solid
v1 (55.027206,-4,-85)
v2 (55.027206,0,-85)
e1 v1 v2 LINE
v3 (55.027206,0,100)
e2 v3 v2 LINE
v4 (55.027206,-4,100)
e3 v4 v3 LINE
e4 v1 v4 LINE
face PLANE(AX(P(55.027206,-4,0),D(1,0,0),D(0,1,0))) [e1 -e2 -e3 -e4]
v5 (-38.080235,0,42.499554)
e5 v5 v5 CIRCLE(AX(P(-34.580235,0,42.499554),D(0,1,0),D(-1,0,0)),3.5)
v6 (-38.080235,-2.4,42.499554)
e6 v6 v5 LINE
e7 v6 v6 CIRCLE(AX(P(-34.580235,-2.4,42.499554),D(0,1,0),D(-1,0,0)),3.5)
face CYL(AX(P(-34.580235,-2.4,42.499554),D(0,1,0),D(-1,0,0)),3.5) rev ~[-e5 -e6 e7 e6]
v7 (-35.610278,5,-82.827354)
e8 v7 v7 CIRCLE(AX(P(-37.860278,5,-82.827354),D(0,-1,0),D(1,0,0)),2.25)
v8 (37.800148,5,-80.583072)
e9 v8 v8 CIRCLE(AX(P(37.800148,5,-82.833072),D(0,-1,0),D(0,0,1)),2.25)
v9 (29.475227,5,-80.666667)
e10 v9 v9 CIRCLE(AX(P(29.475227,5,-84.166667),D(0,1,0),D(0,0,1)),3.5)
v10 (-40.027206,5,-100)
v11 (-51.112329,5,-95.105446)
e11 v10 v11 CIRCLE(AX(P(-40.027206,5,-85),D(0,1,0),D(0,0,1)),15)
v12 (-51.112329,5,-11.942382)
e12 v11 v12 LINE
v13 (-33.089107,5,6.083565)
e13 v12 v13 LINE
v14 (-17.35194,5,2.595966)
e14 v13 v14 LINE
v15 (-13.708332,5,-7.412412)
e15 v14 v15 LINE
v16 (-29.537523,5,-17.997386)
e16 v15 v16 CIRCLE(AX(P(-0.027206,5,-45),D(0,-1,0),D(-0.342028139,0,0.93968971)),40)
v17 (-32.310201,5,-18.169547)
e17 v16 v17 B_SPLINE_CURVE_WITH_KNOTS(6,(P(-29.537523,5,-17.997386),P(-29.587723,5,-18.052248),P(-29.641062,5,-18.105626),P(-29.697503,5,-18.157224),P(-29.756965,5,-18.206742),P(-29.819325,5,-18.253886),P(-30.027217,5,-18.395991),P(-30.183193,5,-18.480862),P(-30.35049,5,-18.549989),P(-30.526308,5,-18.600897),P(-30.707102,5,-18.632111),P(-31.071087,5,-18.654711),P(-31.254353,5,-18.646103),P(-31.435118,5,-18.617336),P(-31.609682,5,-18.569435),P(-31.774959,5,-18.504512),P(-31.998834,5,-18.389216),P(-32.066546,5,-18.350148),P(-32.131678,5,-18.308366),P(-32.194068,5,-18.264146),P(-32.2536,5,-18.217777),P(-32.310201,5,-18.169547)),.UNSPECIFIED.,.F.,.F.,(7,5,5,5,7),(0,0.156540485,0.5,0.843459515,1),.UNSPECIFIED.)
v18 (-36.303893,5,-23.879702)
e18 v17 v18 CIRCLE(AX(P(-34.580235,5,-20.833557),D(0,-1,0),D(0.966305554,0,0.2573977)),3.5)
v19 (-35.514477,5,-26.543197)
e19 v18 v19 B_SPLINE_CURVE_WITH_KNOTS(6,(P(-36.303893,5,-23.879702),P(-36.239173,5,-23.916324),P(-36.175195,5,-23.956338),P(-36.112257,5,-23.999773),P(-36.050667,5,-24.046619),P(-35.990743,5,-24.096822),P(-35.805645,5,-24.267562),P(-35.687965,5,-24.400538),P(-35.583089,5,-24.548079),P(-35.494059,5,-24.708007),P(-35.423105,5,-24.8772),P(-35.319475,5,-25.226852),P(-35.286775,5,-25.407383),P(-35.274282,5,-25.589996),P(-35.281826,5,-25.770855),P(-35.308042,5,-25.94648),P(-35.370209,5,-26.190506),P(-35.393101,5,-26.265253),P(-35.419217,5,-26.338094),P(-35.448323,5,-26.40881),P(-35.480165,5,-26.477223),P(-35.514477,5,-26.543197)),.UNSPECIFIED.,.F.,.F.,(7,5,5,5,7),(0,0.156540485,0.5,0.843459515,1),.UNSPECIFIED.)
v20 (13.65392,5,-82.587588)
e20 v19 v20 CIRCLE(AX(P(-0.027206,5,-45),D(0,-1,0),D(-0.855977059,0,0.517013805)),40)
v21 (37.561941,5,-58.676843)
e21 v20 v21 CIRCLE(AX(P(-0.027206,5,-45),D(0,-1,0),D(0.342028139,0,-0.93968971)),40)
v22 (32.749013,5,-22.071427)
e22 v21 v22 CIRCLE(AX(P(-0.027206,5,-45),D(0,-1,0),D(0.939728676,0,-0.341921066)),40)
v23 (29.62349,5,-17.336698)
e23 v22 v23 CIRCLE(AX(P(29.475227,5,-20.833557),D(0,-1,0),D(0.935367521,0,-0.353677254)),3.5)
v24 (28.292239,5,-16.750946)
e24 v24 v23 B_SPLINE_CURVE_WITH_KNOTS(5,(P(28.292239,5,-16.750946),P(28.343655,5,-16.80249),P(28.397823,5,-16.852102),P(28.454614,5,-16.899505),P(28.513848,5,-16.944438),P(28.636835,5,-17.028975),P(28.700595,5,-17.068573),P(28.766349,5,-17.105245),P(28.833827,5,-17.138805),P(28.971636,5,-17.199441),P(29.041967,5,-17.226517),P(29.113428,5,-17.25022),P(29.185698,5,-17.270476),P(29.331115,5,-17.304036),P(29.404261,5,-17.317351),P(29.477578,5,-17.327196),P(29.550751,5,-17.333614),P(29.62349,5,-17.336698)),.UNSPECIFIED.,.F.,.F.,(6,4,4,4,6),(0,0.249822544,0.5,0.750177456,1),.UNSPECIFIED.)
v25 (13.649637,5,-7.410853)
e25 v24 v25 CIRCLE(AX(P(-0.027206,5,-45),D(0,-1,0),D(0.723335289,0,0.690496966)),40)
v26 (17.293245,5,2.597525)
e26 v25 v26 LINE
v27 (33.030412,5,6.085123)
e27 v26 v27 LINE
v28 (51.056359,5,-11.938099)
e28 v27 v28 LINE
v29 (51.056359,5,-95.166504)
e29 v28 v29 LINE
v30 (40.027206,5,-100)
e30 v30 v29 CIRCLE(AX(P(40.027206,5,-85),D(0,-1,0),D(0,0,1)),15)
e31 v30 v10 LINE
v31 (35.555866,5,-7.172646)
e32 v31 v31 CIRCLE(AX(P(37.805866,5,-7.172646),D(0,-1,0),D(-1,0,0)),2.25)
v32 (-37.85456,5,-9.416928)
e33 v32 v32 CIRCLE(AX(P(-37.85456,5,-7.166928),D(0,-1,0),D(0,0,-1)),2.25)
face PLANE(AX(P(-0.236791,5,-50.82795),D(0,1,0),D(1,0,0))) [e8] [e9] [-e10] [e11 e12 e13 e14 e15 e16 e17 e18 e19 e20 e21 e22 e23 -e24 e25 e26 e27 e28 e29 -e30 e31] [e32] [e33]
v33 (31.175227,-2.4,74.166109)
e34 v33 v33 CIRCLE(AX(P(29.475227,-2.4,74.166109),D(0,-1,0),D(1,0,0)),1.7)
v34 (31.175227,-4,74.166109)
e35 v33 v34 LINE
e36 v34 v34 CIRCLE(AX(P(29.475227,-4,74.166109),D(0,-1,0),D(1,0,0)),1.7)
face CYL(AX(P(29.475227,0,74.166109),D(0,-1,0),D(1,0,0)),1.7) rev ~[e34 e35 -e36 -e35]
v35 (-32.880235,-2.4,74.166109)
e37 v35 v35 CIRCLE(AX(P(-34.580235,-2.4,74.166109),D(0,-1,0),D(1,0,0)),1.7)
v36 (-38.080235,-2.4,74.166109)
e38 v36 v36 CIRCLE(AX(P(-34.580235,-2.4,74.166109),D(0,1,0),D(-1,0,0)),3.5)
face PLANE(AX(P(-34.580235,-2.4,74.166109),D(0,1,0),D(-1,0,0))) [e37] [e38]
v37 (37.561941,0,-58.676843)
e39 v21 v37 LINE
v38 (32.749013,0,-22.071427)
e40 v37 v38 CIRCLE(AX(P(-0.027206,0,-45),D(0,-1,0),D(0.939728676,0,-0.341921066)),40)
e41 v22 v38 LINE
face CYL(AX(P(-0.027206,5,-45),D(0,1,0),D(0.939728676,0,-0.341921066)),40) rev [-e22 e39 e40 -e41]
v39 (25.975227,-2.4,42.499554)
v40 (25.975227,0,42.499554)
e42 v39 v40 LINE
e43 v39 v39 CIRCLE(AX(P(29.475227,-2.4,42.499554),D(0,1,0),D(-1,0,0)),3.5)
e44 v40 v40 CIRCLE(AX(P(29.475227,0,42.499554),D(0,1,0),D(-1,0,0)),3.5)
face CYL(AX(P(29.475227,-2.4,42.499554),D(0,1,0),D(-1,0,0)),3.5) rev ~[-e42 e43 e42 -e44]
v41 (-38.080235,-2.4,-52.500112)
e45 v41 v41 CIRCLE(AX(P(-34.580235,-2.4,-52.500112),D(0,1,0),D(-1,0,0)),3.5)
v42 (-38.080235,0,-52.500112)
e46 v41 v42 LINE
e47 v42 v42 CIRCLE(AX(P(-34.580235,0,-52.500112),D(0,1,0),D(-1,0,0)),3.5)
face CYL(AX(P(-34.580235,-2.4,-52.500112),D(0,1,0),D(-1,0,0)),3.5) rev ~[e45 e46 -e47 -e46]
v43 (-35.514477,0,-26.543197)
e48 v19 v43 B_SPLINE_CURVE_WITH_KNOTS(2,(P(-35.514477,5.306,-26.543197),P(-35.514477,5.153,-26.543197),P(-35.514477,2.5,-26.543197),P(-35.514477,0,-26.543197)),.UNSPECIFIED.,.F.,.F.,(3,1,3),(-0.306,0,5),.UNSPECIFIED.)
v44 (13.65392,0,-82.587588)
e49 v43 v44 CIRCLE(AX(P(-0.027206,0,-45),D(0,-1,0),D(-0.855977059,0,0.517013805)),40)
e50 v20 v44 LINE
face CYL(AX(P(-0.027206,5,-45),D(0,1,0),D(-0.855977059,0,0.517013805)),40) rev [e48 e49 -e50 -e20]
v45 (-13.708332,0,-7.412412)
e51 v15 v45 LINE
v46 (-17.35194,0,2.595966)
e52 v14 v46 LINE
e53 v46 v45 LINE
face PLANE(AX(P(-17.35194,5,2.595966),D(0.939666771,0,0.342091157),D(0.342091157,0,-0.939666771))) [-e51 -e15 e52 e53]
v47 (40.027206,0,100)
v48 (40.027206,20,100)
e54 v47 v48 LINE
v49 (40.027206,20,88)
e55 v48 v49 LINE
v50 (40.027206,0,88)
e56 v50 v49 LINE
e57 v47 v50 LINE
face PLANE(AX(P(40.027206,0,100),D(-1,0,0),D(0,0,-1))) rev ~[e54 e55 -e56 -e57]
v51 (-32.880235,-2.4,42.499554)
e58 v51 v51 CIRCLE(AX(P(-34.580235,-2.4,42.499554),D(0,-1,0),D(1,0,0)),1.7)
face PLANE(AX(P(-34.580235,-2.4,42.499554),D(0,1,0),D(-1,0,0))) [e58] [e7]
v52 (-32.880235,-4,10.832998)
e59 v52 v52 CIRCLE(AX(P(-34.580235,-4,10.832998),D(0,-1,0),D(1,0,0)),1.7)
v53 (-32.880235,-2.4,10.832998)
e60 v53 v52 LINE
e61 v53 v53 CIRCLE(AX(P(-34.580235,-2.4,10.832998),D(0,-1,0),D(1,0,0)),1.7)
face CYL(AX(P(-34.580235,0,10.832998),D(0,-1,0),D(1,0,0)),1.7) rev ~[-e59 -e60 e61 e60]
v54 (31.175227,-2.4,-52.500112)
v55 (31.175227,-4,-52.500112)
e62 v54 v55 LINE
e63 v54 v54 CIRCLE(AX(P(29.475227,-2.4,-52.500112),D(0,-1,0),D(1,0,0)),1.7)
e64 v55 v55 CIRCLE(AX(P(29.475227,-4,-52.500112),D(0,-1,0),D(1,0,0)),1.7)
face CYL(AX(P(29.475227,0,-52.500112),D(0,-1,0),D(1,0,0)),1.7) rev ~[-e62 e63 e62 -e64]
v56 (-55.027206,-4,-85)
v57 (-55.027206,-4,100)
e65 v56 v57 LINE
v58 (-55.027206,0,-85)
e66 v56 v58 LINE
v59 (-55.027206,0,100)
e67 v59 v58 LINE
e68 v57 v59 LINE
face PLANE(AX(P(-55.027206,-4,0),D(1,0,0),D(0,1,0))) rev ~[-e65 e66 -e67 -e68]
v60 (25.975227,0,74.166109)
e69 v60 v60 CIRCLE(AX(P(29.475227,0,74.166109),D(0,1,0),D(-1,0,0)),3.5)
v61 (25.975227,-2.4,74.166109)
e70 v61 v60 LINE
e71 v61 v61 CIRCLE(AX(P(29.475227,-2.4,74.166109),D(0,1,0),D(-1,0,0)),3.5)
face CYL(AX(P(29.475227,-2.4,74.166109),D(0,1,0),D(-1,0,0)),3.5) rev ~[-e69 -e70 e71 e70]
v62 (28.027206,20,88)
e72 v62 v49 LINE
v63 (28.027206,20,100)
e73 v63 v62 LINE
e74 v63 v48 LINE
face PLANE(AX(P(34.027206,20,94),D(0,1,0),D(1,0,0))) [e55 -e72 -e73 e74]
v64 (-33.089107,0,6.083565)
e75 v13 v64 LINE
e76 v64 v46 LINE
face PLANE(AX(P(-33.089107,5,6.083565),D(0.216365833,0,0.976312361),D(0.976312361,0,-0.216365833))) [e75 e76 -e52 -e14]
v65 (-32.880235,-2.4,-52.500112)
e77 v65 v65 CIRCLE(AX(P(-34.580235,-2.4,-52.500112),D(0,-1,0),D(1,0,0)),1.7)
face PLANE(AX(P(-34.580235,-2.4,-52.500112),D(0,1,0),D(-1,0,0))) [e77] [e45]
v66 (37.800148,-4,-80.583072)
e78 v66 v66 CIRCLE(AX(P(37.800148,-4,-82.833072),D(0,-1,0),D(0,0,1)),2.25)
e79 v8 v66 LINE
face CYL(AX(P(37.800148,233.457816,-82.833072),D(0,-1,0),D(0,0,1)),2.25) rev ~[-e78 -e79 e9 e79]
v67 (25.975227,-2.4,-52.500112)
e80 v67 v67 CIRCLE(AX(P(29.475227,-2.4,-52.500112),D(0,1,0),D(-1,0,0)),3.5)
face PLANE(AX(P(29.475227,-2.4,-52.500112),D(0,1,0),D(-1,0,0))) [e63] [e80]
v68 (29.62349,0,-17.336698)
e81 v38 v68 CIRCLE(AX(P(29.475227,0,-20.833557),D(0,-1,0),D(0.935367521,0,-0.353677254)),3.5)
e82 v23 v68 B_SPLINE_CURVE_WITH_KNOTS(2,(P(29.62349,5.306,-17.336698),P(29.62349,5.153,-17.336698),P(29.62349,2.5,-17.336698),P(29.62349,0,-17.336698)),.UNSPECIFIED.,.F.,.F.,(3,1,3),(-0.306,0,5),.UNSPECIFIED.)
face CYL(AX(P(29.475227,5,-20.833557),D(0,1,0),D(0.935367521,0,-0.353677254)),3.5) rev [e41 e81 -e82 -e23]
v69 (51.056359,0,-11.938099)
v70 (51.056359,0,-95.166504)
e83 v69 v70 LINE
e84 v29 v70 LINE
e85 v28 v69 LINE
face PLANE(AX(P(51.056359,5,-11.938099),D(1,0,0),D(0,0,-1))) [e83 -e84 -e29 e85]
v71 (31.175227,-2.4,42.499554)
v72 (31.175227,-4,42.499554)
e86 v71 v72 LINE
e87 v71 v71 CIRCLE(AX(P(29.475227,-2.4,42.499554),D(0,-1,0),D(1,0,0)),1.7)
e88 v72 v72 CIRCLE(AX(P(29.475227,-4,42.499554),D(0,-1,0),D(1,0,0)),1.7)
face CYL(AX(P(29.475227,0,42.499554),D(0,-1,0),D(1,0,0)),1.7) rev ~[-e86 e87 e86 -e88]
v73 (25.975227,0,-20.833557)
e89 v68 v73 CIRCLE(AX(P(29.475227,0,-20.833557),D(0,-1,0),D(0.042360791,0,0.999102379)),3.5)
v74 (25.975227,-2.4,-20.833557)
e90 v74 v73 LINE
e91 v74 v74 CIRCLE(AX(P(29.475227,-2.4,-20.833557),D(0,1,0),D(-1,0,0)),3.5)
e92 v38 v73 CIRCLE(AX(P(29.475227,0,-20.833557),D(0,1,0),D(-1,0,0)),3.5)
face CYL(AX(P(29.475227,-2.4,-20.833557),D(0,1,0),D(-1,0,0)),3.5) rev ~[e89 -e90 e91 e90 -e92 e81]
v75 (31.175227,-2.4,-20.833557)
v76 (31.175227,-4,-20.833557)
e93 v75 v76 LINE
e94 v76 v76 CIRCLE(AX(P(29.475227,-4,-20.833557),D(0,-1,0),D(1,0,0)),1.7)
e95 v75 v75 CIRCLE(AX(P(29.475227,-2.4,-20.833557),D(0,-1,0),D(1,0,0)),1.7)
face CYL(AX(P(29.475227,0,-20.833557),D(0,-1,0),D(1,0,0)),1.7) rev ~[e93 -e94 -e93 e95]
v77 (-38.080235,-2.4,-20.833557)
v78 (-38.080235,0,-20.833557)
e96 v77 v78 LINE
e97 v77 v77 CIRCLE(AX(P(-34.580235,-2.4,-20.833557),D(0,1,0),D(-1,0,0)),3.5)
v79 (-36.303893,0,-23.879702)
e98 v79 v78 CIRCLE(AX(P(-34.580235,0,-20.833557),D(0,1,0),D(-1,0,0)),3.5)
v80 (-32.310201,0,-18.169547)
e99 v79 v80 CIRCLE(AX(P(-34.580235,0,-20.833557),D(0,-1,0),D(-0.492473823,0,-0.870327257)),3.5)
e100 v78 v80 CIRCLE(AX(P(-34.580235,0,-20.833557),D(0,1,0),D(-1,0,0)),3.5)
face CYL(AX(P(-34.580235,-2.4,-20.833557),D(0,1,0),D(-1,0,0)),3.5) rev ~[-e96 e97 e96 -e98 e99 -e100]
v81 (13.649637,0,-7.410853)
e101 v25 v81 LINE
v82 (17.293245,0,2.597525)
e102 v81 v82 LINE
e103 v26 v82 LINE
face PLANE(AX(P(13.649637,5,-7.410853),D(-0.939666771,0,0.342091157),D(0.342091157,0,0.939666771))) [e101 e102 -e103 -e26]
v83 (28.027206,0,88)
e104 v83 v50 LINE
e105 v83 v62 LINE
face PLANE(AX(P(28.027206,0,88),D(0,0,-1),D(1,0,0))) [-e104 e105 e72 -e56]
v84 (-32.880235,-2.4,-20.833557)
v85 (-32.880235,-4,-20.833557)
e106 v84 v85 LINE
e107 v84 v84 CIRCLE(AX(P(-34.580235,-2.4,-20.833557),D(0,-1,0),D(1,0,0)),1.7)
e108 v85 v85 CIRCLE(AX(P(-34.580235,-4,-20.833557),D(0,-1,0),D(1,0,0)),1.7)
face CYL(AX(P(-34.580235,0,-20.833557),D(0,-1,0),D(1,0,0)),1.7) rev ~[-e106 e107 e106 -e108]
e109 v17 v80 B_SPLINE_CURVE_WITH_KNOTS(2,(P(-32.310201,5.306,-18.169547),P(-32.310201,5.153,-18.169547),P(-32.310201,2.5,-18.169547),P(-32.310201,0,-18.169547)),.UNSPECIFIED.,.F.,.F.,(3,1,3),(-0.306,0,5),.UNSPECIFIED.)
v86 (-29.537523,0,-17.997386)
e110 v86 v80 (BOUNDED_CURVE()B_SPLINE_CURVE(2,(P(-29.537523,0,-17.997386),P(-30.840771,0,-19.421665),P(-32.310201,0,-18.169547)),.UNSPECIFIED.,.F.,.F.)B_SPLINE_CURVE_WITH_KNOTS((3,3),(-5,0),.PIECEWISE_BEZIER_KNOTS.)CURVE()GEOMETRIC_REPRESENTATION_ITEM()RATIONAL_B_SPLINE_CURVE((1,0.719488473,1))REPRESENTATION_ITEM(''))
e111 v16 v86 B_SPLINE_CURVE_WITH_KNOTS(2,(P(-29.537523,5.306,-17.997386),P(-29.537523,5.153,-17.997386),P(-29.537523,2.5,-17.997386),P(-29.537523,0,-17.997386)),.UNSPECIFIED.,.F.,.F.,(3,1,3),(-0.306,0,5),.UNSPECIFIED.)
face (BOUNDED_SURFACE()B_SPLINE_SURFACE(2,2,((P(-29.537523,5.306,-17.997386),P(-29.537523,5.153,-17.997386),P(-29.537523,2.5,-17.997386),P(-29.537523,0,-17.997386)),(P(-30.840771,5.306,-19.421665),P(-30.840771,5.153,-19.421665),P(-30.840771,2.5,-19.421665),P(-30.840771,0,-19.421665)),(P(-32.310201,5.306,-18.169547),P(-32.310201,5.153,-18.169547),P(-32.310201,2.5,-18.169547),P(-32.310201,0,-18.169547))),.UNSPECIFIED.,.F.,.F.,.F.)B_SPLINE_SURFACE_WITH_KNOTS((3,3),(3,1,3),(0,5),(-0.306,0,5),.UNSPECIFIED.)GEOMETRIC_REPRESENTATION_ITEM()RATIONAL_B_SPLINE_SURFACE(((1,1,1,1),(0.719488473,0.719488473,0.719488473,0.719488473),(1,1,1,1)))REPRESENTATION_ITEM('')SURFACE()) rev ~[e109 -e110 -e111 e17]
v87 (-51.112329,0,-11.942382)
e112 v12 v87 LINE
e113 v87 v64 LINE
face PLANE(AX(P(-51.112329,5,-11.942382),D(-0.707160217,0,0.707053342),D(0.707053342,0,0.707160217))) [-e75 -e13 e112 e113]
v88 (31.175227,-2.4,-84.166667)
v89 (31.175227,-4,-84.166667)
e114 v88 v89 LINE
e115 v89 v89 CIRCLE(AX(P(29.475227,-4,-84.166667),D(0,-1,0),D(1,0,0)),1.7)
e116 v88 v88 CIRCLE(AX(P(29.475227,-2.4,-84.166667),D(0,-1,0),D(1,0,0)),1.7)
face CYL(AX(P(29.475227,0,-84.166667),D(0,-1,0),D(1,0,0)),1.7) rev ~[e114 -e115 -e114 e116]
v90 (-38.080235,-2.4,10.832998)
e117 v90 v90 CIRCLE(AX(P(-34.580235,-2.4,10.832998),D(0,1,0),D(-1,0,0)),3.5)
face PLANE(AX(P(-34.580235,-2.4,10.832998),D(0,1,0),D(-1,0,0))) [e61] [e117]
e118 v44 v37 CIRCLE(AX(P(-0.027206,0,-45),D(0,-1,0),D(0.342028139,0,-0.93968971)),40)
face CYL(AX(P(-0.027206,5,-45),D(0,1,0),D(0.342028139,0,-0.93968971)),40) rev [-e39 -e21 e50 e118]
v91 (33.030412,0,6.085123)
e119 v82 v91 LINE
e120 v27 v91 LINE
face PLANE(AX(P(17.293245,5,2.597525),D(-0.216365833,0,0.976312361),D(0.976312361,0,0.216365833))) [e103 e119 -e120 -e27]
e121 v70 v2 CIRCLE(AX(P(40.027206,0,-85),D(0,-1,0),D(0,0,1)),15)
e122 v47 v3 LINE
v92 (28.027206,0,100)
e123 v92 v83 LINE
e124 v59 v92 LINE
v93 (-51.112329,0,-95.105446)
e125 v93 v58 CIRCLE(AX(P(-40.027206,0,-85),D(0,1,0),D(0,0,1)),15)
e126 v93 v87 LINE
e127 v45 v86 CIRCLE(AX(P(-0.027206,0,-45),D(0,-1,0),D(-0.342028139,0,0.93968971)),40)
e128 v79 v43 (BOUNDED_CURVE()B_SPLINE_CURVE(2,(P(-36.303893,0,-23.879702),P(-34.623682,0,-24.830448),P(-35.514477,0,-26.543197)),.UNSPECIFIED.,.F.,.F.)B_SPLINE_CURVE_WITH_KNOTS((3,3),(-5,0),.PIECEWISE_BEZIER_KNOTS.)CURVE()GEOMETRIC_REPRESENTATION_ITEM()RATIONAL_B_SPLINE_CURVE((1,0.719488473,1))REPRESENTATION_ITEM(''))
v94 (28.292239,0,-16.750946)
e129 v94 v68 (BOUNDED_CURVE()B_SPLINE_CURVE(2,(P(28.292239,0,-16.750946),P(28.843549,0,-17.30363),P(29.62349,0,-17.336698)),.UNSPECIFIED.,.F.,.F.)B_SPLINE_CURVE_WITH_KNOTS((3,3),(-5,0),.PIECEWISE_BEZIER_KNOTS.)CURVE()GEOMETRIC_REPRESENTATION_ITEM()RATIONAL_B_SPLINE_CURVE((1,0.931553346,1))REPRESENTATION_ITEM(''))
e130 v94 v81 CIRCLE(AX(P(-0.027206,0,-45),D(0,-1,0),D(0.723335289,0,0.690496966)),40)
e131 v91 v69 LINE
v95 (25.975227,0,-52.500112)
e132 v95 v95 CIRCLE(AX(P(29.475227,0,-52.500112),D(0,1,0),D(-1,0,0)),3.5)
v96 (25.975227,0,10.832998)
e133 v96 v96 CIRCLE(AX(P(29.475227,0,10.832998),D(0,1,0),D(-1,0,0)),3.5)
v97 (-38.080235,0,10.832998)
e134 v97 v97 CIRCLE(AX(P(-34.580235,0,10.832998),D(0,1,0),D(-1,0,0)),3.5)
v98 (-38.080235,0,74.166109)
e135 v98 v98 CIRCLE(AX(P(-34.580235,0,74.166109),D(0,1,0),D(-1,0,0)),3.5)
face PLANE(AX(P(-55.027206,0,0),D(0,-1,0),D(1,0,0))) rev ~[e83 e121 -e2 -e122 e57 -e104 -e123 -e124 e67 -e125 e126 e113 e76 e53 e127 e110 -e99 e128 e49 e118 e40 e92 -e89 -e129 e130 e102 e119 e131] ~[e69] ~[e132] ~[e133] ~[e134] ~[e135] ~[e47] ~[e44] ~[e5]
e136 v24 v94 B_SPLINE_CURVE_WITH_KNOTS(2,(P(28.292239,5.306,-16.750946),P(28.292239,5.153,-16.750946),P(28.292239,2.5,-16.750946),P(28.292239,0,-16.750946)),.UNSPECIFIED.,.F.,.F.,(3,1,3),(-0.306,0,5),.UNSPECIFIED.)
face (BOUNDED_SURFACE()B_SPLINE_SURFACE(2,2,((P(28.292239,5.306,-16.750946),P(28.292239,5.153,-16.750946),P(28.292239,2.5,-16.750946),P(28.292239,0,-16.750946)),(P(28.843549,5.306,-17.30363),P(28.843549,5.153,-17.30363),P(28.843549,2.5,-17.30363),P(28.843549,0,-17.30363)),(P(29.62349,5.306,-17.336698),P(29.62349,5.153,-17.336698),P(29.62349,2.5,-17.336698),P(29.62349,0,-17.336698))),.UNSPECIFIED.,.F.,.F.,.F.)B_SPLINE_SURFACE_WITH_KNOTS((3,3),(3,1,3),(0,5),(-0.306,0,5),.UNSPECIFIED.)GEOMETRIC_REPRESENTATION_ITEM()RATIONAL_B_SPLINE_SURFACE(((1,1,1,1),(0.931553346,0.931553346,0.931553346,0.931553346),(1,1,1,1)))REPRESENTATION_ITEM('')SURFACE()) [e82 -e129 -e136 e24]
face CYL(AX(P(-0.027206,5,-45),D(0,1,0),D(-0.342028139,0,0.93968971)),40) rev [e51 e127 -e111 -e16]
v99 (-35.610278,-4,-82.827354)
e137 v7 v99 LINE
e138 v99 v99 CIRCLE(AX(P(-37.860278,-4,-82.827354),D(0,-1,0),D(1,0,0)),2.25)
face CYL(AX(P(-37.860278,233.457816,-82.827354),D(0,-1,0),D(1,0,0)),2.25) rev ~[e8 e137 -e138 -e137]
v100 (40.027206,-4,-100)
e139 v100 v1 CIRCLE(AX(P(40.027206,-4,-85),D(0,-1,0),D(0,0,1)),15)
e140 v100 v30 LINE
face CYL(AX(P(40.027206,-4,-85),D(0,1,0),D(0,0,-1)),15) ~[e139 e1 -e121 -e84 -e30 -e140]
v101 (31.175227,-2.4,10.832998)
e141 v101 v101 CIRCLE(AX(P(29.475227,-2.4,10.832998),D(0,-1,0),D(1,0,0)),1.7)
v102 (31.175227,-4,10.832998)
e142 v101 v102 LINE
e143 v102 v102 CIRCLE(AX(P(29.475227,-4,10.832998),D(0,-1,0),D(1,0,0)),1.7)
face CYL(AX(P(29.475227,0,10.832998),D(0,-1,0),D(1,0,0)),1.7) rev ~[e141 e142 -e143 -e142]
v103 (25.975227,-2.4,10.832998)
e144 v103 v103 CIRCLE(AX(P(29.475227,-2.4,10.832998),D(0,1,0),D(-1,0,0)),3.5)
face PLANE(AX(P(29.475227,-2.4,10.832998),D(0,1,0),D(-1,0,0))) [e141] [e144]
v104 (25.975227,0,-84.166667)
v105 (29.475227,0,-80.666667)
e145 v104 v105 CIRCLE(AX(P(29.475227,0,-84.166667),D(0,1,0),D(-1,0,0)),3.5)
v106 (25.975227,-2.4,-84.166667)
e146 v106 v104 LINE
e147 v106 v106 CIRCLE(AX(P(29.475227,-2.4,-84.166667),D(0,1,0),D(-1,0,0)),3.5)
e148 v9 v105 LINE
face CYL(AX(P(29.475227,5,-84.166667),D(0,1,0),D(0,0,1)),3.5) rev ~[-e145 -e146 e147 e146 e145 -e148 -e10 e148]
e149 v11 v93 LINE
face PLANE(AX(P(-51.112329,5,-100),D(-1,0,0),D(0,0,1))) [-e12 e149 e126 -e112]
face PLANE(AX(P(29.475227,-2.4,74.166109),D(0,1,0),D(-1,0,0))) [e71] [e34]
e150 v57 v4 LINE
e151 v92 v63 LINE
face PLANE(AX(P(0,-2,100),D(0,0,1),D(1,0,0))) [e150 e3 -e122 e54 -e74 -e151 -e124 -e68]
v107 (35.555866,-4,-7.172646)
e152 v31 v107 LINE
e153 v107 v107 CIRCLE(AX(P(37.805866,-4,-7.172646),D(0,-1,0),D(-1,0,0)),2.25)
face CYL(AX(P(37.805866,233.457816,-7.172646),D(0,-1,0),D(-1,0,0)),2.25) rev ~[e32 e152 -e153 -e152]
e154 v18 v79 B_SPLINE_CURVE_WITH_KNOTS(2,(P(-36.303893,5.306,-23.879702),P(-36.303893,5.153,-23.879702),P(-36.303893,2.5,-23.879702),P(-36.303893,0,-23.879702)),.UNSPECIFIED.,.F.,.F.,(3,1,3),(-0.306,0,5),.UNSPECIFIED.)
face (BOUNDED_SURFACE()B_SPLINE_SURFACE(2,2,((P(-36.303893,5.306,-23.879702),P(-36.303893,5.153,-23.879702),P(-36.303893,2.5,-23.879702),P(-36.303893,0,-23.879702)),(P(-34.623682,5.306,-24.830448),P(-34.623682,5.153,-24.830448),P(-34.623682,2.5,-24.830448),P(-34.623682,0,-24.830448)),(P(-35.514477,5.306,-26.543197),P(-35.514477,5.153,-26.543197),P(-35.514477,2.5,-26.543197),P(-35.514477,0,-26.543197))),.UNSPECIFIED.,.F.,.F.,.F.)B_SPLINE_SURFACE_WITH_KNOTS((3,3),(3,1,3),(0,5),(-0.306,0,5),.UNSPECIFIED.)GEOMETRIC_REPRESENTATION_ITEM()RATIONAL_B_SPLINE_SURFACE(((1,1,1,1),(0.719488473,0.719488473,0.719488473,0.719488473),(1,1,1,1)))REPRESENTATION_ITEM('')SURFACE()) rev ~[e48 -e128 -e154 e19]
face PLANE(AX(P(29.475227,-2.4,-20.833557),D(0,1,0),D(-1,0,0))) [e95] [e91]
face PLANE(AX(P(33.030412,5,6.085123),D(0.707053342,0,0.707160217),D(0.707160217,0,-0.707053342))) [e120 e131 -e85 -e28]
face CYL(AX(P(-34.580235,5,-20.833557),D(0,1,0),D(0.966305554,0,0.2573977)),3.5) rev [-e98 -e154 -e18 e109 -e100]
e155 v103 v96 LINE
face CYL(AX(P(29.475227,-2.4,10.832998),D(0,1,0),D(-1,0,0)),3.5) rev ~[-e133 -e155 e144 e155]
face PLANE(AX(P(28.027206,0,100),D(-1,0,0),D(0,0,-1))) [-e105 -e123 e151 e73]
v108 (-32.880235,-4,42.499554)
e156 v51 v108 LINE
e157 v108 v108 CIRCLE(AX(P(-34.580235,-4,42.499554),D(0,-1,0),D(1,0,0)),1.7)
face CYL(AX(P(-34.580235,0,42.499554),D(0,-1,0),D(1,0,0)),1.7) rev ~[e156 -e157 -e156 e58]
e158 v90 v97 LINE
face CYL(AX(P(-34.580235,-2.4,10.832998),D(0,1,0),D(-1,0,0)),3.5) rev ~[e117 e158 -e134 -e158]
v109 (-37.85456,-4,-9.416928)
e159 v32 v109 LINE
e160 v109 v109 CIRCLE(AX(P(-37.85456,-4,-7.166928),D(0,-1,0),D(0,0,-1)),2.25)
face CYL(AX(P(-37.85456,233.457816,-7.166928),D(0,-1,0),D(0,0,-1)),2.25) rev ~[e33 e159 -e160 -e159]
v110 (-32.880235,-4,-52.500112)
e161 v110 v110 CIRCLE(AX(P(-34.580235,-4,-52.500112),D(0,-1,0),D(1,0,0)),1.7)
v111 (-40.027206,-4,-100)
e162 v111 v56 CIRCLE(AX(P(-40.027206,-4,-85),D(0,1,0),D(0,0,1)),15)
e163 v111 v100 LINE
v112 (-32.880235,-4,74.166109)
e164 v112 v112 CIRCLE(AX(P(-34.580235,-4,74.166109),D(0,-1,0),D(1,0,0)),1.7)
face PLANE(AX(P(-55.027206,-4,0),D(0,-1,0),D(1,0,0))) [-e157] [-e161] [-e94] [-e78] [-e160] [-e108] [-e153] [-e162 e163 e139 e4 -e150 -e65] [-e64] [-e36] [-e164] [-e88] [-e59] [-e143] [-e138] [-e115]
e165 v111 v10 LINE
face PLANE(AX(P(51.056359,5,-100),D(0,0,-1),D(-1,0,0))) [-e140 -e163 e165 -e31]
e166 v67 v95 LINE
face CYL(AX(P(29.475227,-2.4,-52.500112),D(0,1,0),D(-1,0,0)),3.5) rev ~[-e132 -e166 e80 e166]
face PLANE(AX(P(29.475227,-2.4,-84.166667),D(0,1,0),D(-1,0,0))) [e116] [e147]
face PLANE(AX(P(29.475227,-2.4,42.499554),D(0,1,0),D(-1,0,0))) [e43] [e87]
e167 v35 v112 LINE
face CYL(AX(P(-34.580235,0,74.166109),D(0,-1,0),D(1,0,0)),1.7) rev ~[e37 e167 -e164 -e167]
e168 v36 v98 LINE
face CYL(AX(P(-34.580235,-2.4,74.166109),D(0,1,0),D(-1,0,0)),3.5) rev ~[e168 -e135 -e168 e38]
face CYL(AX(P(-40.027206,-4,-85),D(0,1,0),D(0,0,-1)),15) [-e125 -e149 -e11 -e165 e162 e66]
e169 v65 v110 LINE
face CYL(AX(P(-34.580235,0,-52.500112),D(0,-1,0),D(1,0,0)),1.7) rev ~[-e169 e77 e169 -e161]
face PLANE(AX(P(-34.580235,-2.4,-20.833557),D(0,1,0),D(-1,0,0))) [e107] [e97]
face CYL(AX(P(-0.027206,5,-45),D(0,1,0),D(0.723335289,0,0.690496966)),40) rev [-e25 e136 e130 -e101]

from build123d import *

# Parameters (mm, degrees)
ESQUISSE1_W                                        = 110.05441198
ESQUISSE1_H                                        = 4
BOSS_EXTRU_1_DEPTH                                 = 100
CHAMBRAGE_POUR_VIS_T_TE_RONDE_BOMB_E_M_D           = 3.4
CHAMBRAGE_POUR_VIS_T_TE_RONDE_BOMB_E_M_CBORE_D     = 7
CHAMBRAGE_POUR_VIS_T_TE_RONDE_BOMB_E_M_CBORE_DEPTH = 2.4
BOSS_EXTRU_2_START                                 = 5
ESQUISSE2_R                                        = 3.5
BOSS_EXTRU_2_DEPTH                                 = 5
CONG_1_R                                           = 15
DIAM_TRE_DU_PER_AGE_4_5_4_5_1_D                    = 4.5
R_P_TITION_CIRCULAIRE1_COUNT                       = 4
CONG_2_R                                           = 2
ESQUISSE12_W                                       = 12
ESQUISSE12_H                                       = 12
BOSS_EXTRU_3_DEPTH                                 = 20


with BuildPart() as part:
    # Esquisse1 → Boss.-Extru.1 (new, symmetric)
    with BuildSketch(Plane.XY):
        with Locations((0, -2)):
            Rectangle(ESQUISSE1_W, ESQUISSE1_H)
    extrude(amount=BOSS_EXTRU_1_DEPTH, both=True)

    # Chambrage pour vis à tête ronde bombée M31 (through all)
    with Locations(Plane(origin=(0, 0, 0), x_dir=(-1, 0, 0), z_dir=(0, 1, 0))):
        with Locations((-29.475226789, 74.166108561), (-29.475226789, 42.499553515), (-29.475226789, 10.83299847), (-29.475226789, -20.833556576), (-29.475226789, -52.500111621), (-29.475226789, -84.166666667), (34.58023462, -52.500111621), (34.58023462, -20.833556576), (34.58023462, 10.83299847), (34.58023462, 42.499553515), (34.58023462, 74.166108561)):
            CounterBoreHole(CHAMBRAGE_POUR_VIS_T_TE_RONDE_BOMB_E_M_D / 2, CHAMBRAGE_POUR_VIS_T_TE_RONDE_BOMB_E_M_CBORE_D / 2, CHAMBRAGE_POUR_VIS_T_TE_RONDE_BOMB_E_M_CBORE_DEPTH)

    # Esquisse2 → Boss.-Extru.2 (add)
    with BuildSketch(Plane(origin=(0, 0, 0), x_dir=(1, 0, 0), z_dir=(0, 1, 0)).offset(BOSS_EXTRU_2_START)):
        with BuildLine():
            ThreePointArc((-34.266288353, 24.319447816), (-30.921403648, 70.407647487), (13.653919587, 82.587588418))
            ThreePointArc((13.653919587, 82.587588418), (28.258676617, 73.282659801), (37.561941061, 58.676842631))
            ThreePointArc((37.561941061, 58.676842631), (39.631466487, 39.785625854), (32.749013114, 22.071426963))
            ThreePointArc((32.749013114, 22.071426963), (32.18281347, 18.615680482), (28.906205557, 17.380121353))
            ThreePointArc((28.906205557, 17.380121353), (21.853265177, 11.515003633), (13.649636645, 7.410852954))
            Line((13.649636645, 7.410852954), (17.29324483, -2.597524835))
            Line((17.29324483, -2.597524835), (33.030412308, -6.085123148))
            Line((33.030412308, -6.085123148), (51.056358534, 11.938098766))
            Line((51.056358534, 11.938098766), (51.056358534, 100))
            Line((51.056358534, 100), (-51.112329133, 100))
            Line((-51.112329133, 100), (-51.112329133, 11.942381707))
            Line((-51.112329133, 11.942381707), (-33.08910722, -6.083564519))
            Line((-33.08910722, -6.083564519), (-17.351939742, -2.595966207))
            Line((-17.351939742, -2.595966207), (-13.708331558, 7.412411582))
            ThreePointArc((-13.708331558, 7.412411582), (-23.310602668, 12.474879878), (-31.198165181, 19.932664624))
            ThreePointArc((-31.198165181, 19.932664624), (-37.448352421, 18.827590404), (-34.266288353, 24.319447816))
        make_face()
        with Locations(Location((29.475226789, 84.166666667, 0), (0, 0, 269.999999999))):
            Circle(ESQUISSE2_R, mode=Mode.SUBTRACT)
    extrude(amount=-BOSS_EXTRU_2_DEPTH)

    # Congé1
    cong_1_edges = [part.edges().sort_by_distance(p)[0] for p in [
        (55.02720599, -2, -100),
        (-55.02720599, -2, -100),
    ]]
    fillet(cong_1_edges, radius=CONG_1_R)

    # Diamètre du perçage Ø4.5 (4.5)1 (through all)
    with Locations(Plane(origin=(0, 5, 0), x_dir=(1, 0, 0), z_dir=(0, 1, 0))):
        with Locations((37.80586561, 7.172646225)):
            diam_tre_du_per_age_4_5_4_5_1 = Hole(DIAM_TRE_DU_PER_AGE_4_5_4_5_1_D / 2)

    # Répétition circulaire1: Diamètre du perçage Ø4.5 (4.5)1 ×4 about axis
    r_p_tition_circulaire1_axis = Axis((-0.027205985, 0, -45), (0, 1, 0))
    for i in range(1, R_P_TITION_CIRCULAIRE1_COUNT):
        add(diam_tre_du_per_age_4_5_4_5_1.rotate(r_p_tition_circulaire1_axis, i * 360 / R_P_TITION_CIRCULAIRE1_COUNT), mode=Mode.SUBTRACT)

    # Congé2
    cong_2_edges = [part.edges().sort_by_distance(p)[0] for p in [
        (-34.266288353, 2.5, -24.319447816),
        (28.906205557, 2.5, -17.380121353),
        (-31.198165181, 2.5, -19.932664624),
    ]]
    fillet(cong_2_edges, radius=CONG_2_R)

    # Esquisse12 → Boss.-Extru.3 (add)
    with BuildSketch(Plane(origin=(0, 0, 0), x_dir=(1, 0, 0), z_dir=(0, 1, 0))):
        with Locations((34.02720599, -94)):
            Rectangle(ESQUISSE12_W, ESQUISSE12_H)
    extrude(amount=BOSS_EXTRU_3_DEPTH)


solid = part.part
